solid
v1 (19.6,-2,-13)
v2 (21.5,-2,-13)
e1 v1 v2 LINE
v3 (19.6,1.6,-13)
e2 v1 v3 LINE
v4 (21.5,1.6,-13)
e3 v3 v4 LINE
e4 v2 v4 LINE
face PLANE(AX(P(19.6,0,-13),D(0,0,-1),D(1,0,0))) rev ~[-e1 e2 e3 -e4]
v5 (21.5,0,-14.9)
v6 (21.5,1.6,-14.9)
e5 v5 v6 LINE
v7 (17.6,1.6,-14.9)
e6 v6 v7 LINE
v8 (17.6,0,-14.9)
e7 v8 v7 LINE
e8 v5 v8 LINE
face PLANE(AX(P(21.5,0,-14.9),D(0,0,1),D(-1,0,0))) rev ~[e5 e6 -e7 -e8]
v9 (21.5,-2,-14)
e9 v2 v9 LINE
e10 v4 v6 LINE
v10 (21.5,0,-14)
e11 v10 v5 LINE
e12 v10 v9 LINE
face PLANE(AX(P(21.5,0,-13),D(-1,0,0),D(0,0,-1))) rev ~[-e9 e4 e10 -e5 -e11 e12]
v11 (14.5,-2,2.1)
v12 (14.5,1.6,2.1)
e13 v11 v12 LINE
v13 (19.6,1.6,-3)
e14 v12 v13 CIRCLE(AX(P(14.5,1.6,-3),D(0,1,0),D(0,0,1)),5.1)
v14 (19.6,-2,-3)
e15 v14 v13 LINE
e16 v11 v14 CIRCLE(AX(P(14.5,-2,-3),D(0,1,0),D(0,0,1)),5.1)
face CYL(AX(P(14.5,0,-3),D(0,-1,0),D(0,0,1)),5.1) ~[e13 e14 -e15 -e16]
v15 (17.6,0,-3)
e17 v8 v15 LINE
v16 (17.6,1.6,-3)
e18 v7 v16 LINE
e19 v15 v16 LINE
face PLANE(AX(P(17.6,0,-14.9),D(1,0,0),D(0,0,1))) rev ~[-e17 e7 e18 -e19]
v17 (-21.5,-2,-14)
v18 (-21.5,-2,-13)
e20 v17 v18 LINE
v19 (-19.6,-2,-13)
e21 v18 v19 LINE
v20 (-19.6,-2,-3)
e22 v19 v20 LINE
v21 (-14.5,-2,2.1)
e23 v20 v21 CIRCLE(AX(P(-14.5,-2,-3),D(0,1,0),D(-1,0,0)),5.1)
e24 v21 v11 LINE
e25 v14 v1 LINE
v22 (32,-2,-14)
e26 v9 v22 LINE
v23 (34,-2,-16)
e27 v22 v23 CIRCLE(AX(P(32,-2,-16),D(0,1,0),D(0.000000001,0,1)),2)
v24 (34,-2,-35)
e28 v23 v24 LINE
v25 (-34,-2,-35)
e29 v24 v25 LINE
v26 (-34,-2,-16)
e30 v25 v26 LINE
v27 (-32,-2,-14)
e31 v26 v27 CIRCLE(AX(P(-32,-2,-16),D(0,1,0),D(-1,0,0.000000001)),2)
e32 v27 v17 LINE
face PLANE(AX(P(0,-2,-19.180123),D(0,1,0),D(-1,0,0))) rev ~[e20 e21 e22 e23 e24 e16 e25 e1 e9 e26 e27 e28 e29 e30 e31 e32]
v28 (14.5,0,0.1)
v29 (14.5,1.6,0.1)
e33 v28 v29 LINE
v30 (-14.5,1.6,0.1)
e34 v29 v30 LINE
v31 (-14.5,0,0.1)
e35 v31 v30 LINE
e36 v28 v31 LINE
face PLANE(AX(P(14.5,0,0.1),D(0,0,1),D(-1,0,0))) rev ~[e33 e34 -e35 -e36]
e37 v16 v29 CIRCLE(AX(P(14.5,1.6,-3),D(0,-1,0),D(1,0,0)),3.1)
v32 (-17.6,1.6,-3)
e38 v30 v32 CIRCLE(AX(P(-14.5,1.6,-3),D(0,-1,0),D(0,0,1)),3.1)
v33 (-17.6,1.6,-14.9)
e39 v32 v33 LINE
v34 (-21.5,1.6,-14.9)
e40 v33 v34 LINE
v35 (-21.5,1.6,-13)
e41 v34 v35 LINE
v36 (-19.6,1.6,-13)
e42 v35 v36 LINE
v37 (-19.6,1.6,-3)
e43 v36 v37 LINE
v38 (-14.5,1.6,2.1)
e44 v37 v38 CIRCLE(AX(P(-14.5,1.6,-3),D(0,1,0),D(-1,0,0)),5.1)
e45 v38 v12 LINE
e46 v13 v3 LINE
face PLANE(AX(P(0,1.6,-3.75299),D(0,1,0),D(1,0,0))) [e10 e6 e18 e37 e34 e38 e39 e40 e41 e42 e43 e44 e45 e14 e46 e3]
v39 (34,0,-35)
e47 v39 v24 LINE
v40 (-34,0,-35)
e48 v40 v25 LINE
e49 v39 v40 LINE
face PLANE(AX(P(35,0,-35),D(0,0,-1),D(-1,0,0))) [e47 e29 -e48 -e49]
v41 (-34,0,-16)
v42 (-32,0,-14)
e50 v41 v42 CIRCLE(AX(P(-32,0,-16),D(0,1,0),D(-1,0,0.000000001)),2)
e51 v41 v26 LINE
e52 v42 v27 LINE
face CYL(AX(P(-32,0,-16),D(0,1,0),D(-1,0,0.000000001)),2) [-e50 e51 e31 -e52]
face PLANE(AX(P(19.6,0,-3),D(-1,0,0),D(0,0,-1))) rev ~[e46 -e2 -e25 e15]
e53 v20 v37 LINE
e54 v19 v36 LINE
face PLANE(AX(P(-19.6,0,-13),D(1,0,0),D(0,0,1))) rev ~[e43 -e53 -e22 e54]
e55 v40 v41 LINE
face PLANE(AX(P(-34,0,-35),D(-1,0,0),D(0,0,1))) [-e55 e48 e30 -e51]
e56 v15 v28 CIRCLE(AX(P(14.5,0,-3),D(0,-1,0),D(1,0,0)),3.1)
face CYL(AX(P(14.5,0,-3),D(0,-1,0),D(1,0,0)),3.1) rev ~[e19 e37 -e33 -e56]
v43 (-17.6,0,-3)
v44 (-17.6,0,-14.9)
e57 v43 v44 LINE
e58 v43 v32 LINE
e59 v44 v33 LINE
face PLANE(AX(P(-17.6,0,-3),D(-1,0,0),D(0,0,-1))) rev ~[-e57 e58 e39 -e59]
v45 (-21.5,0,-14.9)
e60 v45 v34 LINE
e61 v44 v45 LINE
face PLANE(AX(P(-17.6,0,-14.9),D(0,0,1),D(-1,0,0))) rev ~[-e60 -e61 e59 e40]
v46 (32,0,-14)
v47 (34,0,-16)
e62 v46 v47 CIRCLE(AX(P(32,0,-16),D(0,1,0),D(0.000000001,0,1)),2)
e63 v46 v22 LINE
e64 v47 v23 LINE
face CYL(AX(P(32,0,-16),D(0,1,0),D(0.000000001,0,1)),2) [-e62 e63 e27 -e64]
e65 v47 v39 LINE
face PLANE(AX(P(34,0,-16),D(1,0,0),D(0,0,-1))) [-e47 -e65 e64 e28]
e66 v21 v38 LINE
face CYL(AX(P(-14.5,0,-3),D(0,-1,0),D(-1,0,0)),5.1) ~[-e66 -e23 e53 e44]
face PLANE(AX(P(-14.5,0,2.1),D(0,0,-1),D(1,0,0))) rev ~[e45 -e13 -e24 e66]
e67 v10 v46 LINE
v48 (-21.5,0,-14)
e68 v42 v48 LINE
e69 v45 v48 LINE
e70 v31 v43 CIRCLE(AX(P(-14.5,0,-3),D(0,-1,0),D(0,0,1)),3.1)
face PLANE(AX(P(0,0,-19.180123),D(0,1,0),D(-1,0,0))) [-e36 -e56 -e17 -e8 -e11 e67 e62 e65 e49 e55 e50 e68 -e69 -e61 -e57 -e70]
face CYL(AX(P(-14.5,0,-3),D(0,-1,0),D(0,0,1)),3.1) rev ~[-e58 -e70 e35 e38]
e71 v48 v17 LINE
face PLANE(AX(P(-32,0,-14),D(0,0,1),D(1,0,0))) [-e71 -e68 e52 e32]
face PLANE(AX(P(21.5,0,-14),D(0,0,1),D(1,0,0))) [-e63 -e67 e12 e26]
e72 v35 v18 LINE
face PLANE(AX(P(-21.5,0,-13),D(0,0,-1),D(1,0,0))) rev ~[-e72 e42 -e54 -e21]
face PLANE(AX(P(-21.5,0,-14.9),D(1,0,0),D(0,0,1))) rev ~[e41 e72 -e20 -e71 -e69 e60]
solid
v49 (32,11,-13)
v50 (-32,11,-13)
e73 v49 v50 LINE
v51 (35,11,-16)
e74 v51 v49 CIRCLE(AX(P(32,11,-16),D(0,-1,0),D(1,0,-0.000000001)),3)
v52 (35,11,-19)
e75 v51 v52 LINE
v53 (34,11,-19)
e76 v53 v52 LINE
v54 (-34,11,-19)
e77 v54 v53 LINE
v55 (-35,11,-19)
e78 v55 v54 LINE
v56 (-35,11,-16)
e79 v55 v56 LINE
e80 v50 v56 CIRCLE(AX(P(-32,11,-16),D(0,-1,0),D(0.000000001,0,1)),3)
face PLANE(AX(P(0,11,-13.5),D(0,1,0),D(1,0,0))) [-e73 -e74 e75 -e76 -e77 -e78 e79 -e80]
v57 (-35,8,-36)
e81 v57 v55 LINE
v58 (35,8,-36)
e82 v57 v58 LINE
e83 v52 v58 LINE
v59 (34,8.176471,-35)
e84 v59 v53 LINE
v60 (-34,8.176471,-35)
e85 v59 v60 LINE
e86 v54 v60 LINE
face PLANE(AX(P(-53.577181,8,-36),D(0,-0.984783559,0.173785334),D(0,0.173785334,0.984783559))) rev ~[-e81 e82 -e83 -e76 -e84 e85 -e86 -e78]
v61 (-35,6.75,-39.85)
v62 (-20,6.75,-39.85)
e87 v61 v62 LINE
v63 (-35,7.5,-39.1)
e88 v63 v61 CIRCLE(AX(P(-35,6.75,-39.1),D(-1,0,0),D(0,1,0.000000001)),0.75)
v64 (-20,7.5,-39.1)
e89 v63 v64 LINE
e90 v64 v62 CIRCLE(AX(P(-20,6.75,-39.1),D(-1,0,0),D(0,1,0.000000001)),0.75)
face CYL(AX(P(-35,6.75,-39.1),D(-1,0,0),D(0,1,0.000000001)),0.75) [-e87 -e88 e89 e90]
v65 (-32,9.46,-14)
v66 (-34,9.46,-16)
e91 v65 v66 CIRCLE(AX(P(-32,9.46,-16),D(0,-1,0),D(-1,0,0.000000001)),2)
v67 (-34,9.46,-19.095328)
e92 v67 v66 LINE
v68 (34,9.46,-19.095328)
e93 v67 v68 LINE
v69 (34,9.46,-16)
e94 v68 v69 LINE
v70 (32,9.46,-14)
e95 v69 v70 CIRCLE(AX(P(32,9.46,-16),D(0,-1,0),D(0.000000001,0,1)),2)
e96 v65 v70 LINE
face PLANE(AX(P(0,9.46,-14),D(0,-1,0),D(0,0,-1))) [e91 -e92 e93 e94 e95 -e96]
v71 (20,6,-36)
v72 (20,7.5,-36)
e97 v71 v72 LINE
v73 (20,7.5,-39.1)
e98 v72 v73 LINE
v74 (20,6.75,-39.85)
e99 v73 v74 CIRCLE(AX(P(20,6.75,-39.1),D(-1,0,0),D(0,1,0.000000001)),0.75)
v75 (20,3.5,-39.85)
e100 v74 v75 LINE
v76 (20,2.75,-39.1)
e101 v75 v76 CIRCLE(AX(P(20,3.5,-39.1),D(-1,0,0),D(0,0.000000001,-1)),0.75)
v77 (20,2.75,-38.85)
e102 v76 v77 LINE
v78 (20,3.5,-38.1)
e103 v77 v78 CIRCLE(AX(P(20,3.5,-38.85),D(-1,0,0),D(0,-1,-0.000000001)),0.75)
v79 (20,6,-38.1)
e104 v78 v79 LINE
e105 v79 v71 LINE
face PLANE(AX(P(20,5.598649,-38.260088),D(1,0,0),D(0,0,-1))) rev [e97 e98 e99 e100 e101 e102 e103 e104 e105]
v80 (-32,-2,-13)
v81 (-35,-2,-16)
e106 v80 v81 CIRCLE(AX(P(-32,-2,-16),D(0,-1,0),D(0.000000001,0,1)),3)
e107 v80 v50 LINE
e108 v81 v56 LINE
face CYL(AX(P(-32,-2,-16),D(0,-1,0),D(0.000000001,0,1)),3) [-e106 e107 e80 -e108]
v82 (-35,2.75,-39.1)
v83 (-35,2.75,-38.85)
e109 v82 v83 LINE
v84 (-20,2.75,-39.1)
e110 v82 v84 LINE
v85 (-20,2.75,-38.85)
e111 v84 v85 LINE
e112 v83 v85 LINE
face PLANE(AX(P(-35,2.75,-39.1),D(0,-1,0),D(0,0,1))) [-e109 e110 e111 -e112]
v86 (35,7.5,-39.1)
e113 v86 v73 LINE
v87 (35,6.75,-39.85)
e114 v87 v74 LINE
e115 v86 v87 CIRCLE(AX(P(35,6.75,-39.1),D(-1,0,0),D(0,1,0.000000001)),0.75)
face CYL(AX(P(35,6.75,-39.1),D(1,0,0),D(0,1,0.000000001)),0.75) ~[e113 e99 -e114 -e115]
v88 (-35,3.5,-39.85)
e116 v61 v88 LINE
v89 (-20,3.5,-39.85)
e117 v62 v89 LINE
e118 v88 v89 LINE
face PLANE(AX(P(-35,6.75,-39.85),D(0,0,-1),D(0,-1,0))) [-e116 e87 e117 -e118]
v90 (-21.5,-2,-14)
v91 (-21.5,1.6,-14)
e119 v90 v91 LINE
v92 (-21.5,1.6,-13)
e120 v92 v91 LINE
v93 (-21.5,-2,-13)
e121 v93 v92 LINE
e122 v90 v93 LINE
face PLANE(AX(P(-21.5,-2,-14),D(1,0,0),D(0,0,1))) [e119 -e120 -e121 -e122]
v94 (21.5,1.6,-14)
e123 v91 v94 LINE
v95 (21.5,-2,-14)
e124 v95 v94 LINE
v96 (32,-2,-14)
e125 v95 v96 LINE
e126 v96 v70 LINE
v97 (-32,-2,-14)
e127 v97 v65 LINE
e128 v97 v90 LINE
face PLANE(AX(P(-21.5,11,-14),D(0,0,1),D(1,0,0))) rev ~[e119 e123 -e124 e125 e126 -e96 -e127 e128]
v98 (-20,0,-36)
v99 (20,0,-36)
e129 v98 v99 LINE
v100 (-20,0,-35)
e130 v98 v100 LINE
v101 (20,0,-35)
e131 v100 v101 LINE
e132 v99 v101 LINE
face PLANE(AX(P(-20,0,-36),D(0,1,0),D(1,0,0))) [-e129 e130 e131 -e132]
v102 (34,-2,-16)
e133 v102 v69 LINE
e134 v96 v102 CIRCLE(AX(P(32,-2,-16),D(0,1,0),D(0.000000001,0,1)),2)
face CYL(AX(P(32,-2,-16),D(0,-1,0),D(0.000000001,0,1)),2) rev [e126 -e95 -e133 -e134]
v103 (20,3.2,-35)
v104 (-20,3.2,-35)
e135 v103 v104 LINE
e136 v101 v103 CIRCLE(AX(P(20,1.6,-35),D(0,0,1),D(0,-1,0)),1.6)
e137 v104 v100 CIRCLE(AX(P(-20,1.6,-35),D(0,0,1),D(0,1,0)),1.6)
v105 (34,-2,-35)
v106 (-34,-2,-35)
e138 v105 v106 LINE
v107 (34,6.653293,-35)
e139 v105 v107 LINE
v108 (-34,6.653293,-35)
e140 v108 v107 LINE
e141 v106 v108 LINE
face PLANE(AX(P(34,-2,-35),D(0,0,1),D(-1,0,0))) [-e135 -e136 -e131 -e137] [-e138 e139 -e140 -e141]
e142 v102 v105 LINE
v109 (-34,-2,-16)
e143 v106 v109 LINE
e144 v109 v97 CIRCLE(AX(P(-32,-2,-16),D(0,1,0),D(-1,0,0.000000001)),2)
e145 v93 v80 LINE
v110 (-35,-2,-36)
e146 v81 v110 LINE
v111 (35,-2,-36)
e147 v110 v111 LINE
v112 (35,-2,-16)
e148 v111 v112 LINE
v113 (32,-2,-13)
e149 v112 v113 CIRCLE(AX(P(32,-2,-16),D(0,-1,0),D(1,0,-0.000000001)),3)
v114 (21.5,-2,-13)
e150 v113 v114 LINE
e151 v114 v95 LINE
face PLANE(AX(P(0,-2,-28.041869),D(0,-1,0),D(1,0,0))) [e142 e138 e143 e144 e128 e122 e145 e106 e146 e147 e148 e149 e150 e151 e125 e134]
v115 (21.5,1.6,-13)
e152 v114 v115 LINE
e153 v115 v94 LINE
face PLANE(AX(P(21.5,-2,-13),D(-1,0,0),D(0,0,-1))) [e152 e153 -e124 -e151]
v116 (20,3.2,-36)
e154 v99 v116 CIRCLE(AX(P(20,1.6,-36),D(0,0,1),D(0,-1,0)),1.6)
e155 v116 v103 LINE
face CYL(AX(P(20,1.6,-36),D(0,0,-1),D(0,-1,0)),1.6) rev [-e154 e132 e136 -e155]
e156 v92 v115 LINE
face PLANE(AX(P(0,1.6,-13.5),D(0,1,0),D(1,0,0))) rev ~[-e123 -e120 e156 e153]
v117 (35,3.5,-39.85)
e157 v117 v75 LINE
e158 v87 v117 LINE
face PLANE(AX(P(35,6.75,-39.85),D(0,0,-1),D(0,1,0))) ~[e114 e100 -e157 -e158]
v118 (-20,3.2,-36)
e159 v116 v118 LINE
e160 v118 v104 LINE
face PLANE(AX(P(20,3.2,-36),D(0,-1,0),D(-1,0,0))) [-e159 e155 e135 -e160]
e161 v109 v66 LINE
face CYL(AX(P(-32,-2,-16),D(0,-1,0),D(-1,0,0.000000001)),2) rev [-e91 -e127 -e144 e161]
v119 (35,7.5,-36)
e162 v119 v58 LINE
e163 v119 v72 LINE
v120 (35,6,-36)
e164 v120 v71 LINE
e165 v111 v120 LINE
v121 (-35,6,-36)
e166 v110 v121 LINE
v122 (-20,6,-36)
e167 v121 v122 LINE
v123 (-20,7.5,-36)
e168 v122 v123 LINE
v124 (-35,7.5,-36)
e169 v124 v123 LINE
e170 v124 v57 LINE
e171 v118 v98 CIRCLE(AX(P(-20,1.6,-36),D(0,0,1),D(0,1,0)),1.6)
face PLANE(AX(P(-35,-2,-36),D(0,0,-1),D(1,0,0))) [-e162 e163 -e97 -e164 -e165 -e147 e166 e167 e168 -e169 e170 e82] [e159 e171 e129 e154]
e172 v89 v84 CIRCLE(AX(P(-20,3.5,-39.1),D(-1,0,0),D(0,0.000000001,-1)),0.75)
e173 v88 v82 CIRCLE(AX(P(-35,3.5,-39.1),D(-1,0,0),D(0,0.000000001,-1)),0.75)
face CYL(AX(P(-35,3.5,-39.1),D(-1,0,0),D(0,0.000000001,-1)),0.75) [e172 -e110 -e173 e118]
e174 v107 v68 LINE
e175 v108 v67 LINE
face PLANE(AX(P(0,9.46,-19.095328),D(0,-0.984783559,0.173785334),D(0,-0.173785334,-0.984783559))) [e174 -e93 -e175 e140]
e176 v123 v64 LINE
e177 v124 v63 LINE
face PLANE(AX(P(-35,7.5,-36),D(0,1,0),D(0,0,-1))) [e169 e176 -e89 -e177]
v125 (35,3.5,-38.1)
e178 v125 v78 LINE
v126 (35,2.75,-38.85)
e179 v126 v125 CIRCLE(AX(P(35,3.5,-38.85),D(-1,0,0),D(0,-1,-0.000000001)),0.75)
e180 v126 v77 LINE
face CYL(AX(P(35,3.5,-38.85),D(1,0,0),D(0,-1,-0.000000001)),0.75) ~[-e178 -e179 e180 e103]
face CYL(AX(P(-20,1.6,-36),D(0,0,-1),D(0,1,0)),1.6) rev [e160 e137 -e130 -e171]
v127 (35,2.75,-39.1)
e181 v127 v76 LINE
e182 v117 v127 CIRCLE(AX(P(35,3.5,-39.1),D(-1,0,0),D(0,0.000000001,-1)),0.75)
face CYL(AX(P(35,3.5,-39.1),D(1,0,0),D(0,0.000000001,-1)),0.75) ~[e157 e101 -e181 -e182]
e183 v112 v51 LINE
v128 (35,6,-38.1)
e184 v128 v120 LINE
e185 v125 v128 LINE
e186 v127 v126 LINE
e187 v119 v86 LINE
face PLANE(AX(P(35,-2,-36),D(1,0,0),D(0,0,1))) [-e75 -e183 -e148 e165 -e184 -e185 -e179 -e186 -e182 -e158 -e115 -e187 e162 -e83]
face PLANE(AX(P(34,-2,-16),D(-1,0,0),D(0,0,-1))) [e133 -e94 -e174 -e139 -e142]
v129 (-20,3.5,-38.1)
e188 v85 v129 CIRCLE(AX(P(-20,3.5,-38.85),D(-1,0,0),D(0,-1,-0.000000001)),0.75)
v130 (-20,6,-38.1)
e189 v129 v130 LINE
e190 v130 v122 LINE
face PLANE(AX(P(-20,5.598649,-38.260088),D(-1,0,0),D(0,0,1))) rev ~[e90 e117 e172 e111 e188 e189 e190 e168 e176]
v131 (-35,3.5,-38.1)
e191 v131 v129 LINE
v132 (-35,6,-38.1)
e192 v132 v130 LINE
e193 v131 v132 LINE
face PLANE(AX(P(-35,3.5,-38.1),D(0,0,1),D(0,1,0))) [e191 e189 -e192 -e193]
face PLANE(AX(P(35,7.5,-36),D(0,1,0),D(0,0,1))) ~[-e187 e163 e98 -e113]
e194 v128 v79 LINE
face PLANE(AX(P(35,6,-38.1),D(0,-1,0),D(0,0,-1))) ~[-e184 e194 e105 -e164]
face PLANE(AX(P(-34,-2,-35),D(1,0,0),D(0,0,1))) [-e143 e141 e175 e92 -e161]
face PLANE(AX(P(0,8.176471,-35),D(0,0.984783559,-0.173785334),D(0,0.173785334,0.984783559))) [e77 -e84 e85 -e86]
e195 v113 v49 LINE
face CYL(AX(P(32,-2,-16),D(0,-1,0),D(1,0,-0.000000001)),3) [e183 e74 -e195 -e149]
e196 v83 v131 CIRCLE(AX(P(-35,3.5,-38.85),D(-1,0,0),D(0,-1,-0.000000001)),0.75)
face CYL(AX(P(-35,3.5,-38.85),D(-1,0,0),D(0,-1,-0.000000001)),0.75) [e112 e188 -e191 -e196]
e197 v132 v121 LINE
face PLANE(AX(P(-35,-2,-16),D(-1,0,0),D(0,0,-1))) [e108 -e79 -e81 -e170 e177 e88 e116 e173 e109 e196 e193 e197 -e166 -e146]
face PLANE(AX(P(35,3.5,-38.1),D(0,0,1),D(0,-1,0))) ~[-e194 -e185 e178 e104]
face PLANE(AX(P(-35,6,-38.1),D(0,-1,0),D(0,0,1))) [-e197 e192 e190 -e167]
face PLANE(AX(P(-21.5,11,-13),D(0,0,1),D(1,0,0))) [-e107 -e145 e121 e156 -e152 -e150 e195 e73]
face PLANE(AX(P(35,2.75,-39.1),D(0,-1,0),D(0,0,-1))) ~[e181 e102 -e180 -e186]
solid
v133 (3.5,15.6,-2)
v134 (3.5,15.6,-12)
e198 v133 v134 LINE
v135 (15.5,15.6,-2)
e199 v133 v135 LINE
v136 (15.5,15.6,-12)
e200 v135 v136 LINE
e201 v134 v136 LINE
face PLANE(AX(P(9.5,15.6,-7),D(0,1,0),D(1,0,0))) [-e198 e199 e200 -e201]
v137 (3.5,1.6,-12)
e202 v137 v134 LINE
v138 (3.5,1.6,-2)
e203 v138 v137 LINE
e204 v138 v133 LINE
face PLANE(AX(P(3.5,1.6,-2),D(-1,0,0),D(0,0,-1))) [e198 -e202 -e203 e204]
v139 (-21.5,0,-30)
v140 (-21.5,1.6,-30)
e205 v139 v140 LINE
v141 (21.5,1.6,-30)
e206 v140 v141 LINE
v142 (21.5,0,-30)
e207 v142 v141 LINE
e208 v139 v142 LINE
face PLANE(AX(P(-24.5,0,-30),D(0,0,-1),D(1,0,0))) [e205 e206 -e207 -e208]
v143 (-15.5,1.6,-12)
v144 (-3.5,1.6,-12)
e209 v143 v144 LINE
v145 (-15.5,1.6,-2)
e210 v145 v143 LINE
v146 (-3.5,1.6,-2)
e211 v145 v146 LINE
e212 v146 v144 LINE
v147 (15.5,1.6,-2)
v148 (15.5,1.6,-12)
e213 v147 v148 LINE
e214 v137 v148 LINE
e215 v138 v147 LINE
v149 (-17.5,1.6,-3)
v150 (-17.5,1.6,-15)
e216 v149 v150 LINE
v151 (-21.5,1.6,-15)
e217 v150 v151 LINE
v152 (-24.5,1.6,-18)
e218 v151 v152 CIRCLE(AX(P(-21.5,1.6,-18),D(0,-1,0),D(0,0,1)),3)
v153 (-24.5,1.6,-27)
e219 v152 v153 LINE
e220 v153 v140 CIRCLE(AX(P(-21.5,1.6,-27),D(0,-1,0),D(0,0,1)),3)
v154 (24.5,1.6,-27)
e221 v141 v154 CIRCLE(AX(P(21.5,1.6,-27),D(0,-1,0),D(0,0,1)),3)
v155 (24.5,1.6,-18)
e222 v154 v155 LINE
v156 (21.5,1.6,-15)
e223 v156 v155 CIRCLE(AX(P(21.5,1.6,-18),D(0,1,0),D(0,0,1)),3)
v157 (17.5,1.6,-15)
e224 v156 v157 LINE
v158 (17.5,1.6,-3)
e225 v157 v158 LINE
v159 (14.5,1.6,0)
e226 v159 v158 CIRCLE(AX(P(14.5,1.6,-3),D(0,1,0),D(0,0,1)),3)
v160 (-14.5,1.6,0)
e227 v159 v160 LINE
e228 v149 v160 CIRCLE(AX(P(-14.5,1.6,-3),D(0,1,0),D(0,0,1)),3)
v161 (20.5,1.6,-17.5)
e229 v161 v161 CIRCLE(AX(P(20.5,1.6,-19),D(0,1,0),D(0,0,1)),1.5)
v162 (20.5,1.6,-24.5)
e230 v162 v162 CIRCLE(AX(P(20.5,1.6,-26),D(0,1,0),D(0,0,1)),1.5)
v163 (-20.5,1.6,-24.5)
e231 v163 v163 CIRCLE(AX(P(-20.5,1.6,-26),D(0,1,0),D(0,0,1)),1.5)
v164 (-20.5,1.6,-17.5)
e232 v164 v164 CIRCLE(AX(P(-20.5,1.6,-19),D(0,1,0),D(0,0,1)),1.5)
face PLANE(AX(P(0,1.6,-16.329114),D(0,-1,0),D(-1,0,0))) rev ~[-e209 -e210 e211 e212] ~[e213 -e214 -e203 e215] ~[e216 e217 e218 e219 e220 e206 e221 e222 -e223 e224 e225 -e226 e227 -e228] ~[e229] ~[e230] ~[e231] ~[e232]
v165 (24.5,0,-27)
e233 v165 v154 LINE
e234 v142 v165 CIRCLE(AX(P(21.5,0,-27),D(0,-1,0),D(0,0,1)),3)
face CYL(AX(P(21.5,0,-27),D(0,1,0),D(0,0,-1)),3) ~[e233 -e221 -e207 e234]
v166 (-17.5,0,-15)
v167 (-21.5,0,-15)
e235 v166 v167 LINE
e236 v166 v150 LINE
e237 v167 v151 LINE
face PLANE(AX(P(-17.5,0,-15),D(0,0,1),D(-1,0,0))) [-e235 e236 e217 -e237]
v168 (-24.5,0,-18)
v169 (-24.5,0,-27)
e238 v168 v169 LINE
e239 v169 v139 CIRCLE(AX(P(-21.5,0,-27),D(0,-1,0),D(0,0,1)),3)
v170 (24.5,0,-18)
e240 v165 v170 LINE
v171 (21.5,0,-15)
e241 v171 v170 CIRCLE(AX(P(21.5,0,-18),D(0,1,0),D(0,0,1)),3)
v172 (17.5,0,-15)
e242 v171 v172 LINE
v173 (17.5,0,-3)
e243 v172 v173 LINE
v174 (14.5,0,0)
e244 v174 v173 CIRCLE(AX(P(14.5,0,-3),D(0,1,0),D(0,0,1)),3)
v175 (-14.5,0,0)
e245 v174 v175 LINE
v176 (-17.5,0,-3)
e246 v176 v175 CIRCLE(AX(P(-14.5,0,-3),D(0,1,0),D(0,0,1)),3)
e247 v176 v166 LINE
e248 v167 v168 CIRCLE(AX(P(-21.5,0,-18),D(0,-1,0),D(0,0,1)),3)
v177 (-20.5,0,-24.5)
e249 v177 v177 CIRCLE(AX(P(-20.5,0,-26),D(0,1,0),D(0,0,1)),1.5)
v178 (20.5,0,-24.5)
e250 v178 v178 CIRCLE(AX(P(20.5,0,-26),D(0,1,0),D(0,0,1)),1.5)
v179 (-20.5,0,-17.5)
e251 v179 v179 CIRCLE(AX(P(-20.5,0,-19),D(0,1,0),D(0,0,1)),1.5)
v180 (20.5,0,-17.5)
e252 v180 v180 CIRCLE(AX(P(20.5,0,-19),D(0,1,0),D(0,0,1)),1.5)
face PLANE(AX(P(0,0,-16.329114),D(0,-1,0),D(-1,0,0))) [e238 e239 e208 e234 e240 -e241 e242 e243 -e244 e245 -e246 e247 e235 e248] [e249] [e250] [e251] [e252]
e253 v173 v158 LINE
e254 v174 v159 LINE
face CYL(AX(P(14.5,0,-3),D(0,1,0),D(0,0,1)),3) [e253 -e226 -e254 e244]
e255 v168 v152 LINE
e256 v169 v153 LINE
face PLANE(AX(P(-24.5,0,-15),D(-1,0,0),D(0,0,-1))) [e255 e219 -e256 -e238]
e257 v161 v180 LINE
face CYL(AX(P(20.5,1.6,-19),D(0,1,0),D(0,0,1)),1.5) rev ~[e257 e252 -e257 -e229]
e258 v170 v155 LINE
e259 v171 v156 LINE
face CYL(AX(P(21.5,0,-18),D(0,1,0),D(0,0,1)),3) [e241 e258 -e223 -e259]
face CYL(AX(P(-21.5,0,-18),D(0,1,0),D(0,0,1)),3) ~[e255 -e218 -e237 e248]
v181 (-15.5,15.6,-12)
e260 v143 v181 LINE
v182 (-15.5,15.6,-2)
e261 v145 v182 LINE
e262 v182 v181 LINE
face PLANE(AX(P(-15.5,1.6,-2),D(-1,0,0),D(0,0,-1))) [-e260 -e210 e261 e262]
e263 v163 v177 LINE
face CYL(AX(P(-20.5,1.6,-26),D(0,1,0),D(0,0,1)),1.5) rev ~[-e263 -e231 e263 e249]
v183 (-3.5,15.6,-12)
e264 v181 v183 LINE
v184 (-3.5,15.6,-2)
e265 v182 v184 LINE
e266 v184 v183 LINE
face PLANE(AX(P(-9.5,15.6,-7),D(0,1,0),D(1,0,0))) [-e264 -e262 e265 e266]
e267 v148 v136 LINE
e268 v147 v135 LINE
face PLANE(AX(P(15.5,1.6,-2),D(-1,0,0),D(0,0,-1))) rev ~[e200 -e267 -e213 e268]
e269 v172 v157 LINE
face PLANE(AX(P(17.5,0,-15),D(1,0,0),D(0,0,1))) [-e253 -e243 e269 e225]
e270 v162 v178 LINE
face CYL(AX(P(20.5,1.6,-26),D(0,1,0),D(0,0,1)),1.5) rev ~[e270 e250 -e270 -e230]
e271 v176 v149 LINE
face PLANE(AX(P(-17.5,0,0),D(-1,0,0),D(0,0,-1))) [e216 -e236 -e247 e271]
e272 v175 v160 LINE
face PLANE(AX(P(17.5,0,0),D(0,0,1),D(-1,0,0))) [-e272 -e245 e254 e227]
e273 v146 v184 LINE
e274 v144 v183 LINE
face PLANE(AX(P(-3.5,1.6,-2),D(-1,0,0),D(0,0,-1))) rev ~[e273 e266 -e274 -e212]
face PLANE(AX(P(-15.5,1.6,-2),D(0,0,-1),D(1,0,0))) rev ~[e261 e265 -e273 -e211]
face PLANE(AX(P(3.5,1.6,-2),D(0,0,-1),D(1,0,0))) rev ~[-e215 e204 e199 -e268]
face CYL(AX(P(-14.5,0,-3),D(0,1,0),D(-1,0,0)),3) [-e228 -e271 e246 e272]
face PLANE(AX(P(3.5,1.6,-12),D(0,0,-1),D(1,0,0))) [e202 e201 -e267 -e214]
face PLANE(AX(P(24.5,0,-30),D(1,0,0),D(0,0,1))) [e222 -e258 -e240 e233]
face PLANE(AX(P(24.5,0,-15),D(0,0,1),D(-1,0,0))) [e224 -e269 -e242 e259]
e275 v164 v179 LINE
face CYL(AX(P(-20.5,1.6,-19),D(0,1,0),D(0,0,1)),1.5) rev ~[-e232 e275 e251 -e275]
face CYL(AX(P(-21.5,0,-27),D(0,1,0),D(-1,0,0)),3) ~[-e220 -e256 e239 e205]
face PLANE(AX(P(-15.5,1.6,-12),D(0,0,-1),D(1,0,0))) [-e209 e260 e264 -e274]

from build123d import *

# Parameters (mm, degrees)
BOSS_EXTRUDE1_DEPTH             = 1.6
SKETCH2_R                       = 1.5
CUT_EXTRUDE1_DEPTH              = 39.766093432
FILLET1_R                       = 3
SKETCH3_W                       = 12
SKETCH3_H                       = 10
BOSS_EXTRUDE2_DEPTH             = 14
BOSS_EXTRUDE3_DEPTH             = 2
BOSS_EXTRUDE4_DEPTH             = 1.6
CUT_EXTRUDE2_DEPTH              = 52.897591466
BOSS_EXTRUDE5_DEPTH             = 15
CUT_EXTRUDE3_DEPTH              = 53.577181362
CUT_EXTRUDE3_DEPTH_BACK         = 53.577181362
BOSS_EXTRUDE6_REACH             = 54.577
BOSS_EXTRUDE6_DIRECTION_2_REACH = 54.577
SKETCH10_W                      = 43
SKETCH10_H                      = 1
BOSS_EXTRUDE7_DEPTH             = 9.4
CUT_EXTRUDE4_DEPTH              = 1
BOSS_EXTRUDE8_DEPTH             = 15


with BuildPart() as part:
    # Sketch1 → Boss-Extrude1 (new body)
    with BuildSketch(Plane(origin=(0, 0, 0), x_dir=(1, 0, 0), z_dir=(0, 1, 0))):
        Polygon((-17.5, 0), (-17.5, 15), (-24.5, 15), (-24.5, 30), (24.5, 30), (24.5, 15), (17.5, 15), (17.5, 0), align=None)
    extrude(amount=BOSS_EXTRUDE1_DEPTH)

    # Sketch2 → Cut-Extrude1 (cut, through all)
    with BuildSketch(Plane(origin=(0, 1.6, 0), x_dir=(1, 0, 0), z_dir=(0, 1, 0))):
        with Locations(Location((-20.5, 26, 0), (0, 0, 270))):
            Circle(SKETCH2_R)
        with Locations(Location((-20.5, 19, 0), (0, 0, 270))):
            Circle(SKETCH2_R)
        with Locations(Location((20.5, 26, 0), (0, 0, 270))):
            Circle(SKETCH2_R)
        with Locations(Location((20.5, 19, 0), (0, 0, 270))):
            Circle(SKETCH2_R)
    extrude(amount=-CUT_EXTRUDE1_DEPTH, mode=Mode.SUBTRACT)

    # Fillet1
    fillet1_edges = [part.edges().sort_by_distance(p)[0] for p in [
        (-17.5, 0.8, 0),
        (-24.5, 0.8, -15),
        (-24.5, 0.8, -30),
        (24.5, 0.8, -30),
        (24.5, 0.8, -15),
        (17.5, 0.8, 0),
    ]]
    fillet(fillet1_edges, radius=FILLET1_R)

    # Sketch3 → Boss-Extrude2 (add)
    with BuildSketch(Plane(origin=(0, 1.6, 0), x_dir=(1, 0, 0), z_dir=(0, 1, 0))):
        with Locations((-9.5, 7)):
            Rectangle(SKETCH3_W, SKETCH3_H)
        with Locations((9.5, 7)):
            Rectangle(SKETCH3_W, SKETCH3_H)
    extrude(amount=BOSS_EXTRUDE2_DEPTH)


with BuildPart() as body_2:
    # Sketch4 → Boss-Extrude3 (new body)
    with BuildSketch(Plane.XZ):
        with BuildLine():
            Line((-32, -13), (-19.6, -13))
            Line((-19.6, -13), (-19.6, -3))
            ThreePointArc((-19.6, -3), (-18.106244584, 0.606244584), (-14.5, 2.1))
            Line((-14.5, 2.1), (14.5, 2.1))
            ThreePointArc((14.5, 2.1), (18.106244584, 0.606244584), (19.6, -3))
            Line((19.6, -3), (19.6, -13))
            Line((19.6, -13), (32, -13))
            ThreePointArc((32, -13), (34.121320344, -13.878679656), (35, -16))
            Line((35, -16), (35, -35))
            Line((35, -35), (-35, -35))
            Line((-35, -35), (-35, -16))
            ThreePointArc((-35, -16), (-34.121320344, -13.878679656), (-32, -13))
        make_face()
    extrude(amount=BOSS_EXTRUDE3_DEPTH)

    # Sketch6 → Cut-Extrude2 (cut, through all)
    with BuildSketch(Plane(origin=(0, 0, 0), x_dir=(1, 0, 0), z_dir=(0, 1, 0))):
        with BuildLine():
            Line((-35, 16), (-35, 35))
            Line((-35, 35), (-34, 35))
            Line((-34, 35), (-34, 16))
            ThreePointArc((-34, 16), (-33.414213562, 14.585786438), (-32, 14))
            Line((-32, 14), (-21.5, 14))
            Line((-21.5, 14), (-21.5, 13))
            Line((-21.5, 13), (-32, 13))
            ThreePointArc((-32, 13), (-34.121320344, 13.878679656), (-35, 16))
        make_face()
        with BuildLine():
            Line((32, 13), (21.5, 13))
            Line((21.5, 13), (21.5, 14))
            Line((21.5, 14), (32, 14))
            ThreePointArc((32, 14), (33.414213562, 14.585786438), (34, 16))
            Line((34, 16), (34, 35))
            Line((34, 35), (35, 35))
            Line((35, 35), (35, 16))
            ThreePointArc((35, 16), (34.121320344, 13.878679656), (32, 13))
        make_face()
    extrude(amount=-CUT_EXTRUDE2_DEPTH, mode=Mode.SUBTRACT)


with BuildPart() as body_3:
    # Sketch5 → Boss-Extrude4 (new body)
    with BuildSketch(Plane(origin=(0, 0, 0), x_dir=(1, 0, 0), z_dir=(0, 1, 0))):
        with BuildLine():
            Line((-21.5, 13), (-19.6, 13))
            Line((-19.6, 13), (-19.6, 3))
            ThreePointArc((-19.6, 3), (-18.106244584, -0.606244584), (-14.5, -2.1))
            Line((-14.5, -2.1), (14.5, -2.1))
            ThreePointArc((14.5, -2.1), (18.106244584, -0.606244584), (19.6, 3))
            Line((19.6, 3), (19.6, 13))
            Line((19.6, 13), (21.5, 13))
            Line((21.5, 13), (21.5, 14.9))
            Line((21.5, 14.9), (17.6, 14.9))
            Line((17.6, 14.9), (17.6, 3))
            ThreePointArc((17.6, 3), (16.692031022, 0.807968978), (14.5, -0.1))
            Line((14.5, -0.1), (-14.5, -0.1))
            ThreePointArc((-14.5, -0.1), (-16.692031022, 0.807968978), (-17.6, 3))
            Line((-17.6, 3), (-17.6, 14.9))
            Line((-17.6, 14.9), (-21.5, 14.9))
            Line((-21.5, 14.9), (-21.5, 13))
        make_face()
    extrude(amount=BOSS_EXTRUDE4_DEPTH)


with BuildPart() as body_4:
    # Sketch7 → Boss-Extrude5 (new body)
    with BuildSketch(Plane.XZ.offset(2)):
        with BuildLine():
            Line((-21.5, -13), (-32, -13))
            ThreePointArc((-32, -13), (-34.121320344, -13.878679656), (-35, -16))
            Line((-35, -16), (-35, -36))
            Line((-35, -36), (35, -36))
            Line((35, -36), (35, -16))
            ThreePointArc((35, -16), (34.121320344, -13.878679656), (32, -13))
            Line((32, -13), (21.5, -13))
            Line((21.5, -13), (21.5, -14))
            Line((21.5, -14), (32, -14))
            ThreePointArc((32, -14), (33.414213562, -14.585786438), (34, -16))
            Line((34, -16), (34, -35))
            Line((34, -35), (-34, -35))
            Line((-34, -35), (-34, -16))
            ThreePointArc((-34, -16), (-33.414213562, -14.585786438), (-32, -14))
            Line((-32, -14), (-21.5, -14))
            Line((-21.5, -14), (-21.5, -13))
        make_face()
    extrude(amount=-BOSS_EXTRUDE5_DEPTH)

    # Sketch8 → Cut-Extrude3 (cut, two sides: drawn at the far end of the back side and taken through both)
    with BuildSketch(Plane(origin=(0, 0, 0), x_dir=(0, 0, -1), z_dir=(1, 0, 0)).offset(-CUT_EXTRUDE3_DEPTH_BACK)):
        Polygon((36, 8), (19, 11), (13, 11), (13, 13), (36, 13), align=None)
    extrude(amount=CUT_EXTRUDE3_DEPTH + CUT_EXTRUDE3_DEPTH_BACK, mode=Mode.SUBTRACT)

    # Sketch9 → Boss-Extrude6 (add, up to next)
    with BuildSketch(Plane(origin=(0, 0, 0), x_dir=(0, 0, -1), z_dir=(1, 0, 0)), mode=Mode.PRIVATE) as boss_extrude6_sk1:
        Polygon((35, 8.176470588), (19, 11), (14, 11), (14, 9.46), (19.095328416, 9.46), (35, 6.65329325), align=None)
    boss_extrude6_tool1 = extrude(boss_extrude6_sk1.sketch, amount=BOSS_EXTRUDE6_REACH, mode=Mode.PRIVATE) - body_4.part
    add(boss_extrude6_tool1.solids().sort_by_distance((0, 9.16359, -24.478882))[0])

    # Sketch9 → Boss-Extrude6 direction 2 (add, up to next)
    with BuildSketch(Plane(origin=(0, 0, 0), x_dir=(0, 0, -1), z_dir=(1, 0, 0)), mode=Mode.PRIVATE) as boss_extrude6_direction_2_sk1:
        Polygon((35, 8.176470588), (19, 11), (14, 11), (14, 9.46), (19.095328416, 9.46), (35, 6.65329325), align=None)
    boss_extrude6_direction_2_tool1 = extrude(boss_extrude6_direction_2_sk1.sketch, amount=-BOSS_EXTRUDE6_DIRECTION_2_REACH, mode=Mode.PRIVATE) - body_4.part
    add(boss_extrude6_direction_2_tool1.solids().sort_by_distance((0, 9.16359, -24.478882))[0])

    # Sketch11 → Cut-Extrude4 (cut)
    with BuildSketch(Plane(origin=(0, 0, -36), x_dir=(-1, 0, 0), z_dir=(0, 0, -1))):
        with BuildLine():
            Line((-20, 3.2), (20, 3.2))
            ThreePointArc((20, 3.2), (21.6, 1.6), (20, 0))
            Line((20, 0), (-20, 0))
            ThreePointArc((-20, 0), (-21.6, 1.6), (-20, 3.2))
        make_face()
    extrude(amount=-CUT_EXTRUDE4_DEPTH, mode=Mode.SUBTRACT)

    # Sketch12 → Boss-Extrude8 (add)
    with BuildSketch(Plane.ZY.offset(35)):
        with BuildLine():
            Line((-36, 7.5), (-39.1, 7.5))
            ThreePointArc((-39.1, 7.5), (-39.630330086, 7.280330086), (-39.85, 6.75))
            Line((-39.85, 6.75), (-39.85, 3.5))
            ThreePointArc((-39.85, 3.5), (-39.630330086, 2.969669914), (-39.1, 2.75))
            Line((-39.1, 2.75), (-38.85, 2.75))
            ThreePointArc((-38.85, 2.75), (-38.319669914, 2.969669914), (-38.1, 3.5))
            Line((-38.1, 3.5), (-38.1, 6))
            Line((-38.1, 6), (-36, 6))
            Line((-36, 6), (-36, 7.5))
        make_face()
    boss_extrude8 = extrude(amount=-BOSS_EXTRUDE8_DEPTH)

    # Mirror1: Boss-Extrude8 across plane
    add(boss_extrude8.mirror(Plane(origin=(0, 0, 0), x_dir=(0, 0, 1), z_dir=(1, 0, 0))))


with BuildPart() as body_5:
    # Sketch10 → Boss-Extrude7 (new body)
    with BuildSketch(Plane(origin=(0, 11, 0), x_dir=(1, 0, 0), z_dir=(0, 1, 0))):
        with Locations((0, 13.5)):
            Rectangle(SKETCH10_W, SKETCH10_H)
    extrude(amount=-BOSS_EXTRUDE7_DEPTH)


with BuildPart() as body_4_1:
    add(body_4.part)

    # Combine1: union body 5
    add(body_5.part)


with BuildPart() as body_2_1:
    add(body_2.part)

    # Combine2: union body 3
    add(body_3.part)


solid = Compound([part.part, body_4_1.part, body_2_1.part])
